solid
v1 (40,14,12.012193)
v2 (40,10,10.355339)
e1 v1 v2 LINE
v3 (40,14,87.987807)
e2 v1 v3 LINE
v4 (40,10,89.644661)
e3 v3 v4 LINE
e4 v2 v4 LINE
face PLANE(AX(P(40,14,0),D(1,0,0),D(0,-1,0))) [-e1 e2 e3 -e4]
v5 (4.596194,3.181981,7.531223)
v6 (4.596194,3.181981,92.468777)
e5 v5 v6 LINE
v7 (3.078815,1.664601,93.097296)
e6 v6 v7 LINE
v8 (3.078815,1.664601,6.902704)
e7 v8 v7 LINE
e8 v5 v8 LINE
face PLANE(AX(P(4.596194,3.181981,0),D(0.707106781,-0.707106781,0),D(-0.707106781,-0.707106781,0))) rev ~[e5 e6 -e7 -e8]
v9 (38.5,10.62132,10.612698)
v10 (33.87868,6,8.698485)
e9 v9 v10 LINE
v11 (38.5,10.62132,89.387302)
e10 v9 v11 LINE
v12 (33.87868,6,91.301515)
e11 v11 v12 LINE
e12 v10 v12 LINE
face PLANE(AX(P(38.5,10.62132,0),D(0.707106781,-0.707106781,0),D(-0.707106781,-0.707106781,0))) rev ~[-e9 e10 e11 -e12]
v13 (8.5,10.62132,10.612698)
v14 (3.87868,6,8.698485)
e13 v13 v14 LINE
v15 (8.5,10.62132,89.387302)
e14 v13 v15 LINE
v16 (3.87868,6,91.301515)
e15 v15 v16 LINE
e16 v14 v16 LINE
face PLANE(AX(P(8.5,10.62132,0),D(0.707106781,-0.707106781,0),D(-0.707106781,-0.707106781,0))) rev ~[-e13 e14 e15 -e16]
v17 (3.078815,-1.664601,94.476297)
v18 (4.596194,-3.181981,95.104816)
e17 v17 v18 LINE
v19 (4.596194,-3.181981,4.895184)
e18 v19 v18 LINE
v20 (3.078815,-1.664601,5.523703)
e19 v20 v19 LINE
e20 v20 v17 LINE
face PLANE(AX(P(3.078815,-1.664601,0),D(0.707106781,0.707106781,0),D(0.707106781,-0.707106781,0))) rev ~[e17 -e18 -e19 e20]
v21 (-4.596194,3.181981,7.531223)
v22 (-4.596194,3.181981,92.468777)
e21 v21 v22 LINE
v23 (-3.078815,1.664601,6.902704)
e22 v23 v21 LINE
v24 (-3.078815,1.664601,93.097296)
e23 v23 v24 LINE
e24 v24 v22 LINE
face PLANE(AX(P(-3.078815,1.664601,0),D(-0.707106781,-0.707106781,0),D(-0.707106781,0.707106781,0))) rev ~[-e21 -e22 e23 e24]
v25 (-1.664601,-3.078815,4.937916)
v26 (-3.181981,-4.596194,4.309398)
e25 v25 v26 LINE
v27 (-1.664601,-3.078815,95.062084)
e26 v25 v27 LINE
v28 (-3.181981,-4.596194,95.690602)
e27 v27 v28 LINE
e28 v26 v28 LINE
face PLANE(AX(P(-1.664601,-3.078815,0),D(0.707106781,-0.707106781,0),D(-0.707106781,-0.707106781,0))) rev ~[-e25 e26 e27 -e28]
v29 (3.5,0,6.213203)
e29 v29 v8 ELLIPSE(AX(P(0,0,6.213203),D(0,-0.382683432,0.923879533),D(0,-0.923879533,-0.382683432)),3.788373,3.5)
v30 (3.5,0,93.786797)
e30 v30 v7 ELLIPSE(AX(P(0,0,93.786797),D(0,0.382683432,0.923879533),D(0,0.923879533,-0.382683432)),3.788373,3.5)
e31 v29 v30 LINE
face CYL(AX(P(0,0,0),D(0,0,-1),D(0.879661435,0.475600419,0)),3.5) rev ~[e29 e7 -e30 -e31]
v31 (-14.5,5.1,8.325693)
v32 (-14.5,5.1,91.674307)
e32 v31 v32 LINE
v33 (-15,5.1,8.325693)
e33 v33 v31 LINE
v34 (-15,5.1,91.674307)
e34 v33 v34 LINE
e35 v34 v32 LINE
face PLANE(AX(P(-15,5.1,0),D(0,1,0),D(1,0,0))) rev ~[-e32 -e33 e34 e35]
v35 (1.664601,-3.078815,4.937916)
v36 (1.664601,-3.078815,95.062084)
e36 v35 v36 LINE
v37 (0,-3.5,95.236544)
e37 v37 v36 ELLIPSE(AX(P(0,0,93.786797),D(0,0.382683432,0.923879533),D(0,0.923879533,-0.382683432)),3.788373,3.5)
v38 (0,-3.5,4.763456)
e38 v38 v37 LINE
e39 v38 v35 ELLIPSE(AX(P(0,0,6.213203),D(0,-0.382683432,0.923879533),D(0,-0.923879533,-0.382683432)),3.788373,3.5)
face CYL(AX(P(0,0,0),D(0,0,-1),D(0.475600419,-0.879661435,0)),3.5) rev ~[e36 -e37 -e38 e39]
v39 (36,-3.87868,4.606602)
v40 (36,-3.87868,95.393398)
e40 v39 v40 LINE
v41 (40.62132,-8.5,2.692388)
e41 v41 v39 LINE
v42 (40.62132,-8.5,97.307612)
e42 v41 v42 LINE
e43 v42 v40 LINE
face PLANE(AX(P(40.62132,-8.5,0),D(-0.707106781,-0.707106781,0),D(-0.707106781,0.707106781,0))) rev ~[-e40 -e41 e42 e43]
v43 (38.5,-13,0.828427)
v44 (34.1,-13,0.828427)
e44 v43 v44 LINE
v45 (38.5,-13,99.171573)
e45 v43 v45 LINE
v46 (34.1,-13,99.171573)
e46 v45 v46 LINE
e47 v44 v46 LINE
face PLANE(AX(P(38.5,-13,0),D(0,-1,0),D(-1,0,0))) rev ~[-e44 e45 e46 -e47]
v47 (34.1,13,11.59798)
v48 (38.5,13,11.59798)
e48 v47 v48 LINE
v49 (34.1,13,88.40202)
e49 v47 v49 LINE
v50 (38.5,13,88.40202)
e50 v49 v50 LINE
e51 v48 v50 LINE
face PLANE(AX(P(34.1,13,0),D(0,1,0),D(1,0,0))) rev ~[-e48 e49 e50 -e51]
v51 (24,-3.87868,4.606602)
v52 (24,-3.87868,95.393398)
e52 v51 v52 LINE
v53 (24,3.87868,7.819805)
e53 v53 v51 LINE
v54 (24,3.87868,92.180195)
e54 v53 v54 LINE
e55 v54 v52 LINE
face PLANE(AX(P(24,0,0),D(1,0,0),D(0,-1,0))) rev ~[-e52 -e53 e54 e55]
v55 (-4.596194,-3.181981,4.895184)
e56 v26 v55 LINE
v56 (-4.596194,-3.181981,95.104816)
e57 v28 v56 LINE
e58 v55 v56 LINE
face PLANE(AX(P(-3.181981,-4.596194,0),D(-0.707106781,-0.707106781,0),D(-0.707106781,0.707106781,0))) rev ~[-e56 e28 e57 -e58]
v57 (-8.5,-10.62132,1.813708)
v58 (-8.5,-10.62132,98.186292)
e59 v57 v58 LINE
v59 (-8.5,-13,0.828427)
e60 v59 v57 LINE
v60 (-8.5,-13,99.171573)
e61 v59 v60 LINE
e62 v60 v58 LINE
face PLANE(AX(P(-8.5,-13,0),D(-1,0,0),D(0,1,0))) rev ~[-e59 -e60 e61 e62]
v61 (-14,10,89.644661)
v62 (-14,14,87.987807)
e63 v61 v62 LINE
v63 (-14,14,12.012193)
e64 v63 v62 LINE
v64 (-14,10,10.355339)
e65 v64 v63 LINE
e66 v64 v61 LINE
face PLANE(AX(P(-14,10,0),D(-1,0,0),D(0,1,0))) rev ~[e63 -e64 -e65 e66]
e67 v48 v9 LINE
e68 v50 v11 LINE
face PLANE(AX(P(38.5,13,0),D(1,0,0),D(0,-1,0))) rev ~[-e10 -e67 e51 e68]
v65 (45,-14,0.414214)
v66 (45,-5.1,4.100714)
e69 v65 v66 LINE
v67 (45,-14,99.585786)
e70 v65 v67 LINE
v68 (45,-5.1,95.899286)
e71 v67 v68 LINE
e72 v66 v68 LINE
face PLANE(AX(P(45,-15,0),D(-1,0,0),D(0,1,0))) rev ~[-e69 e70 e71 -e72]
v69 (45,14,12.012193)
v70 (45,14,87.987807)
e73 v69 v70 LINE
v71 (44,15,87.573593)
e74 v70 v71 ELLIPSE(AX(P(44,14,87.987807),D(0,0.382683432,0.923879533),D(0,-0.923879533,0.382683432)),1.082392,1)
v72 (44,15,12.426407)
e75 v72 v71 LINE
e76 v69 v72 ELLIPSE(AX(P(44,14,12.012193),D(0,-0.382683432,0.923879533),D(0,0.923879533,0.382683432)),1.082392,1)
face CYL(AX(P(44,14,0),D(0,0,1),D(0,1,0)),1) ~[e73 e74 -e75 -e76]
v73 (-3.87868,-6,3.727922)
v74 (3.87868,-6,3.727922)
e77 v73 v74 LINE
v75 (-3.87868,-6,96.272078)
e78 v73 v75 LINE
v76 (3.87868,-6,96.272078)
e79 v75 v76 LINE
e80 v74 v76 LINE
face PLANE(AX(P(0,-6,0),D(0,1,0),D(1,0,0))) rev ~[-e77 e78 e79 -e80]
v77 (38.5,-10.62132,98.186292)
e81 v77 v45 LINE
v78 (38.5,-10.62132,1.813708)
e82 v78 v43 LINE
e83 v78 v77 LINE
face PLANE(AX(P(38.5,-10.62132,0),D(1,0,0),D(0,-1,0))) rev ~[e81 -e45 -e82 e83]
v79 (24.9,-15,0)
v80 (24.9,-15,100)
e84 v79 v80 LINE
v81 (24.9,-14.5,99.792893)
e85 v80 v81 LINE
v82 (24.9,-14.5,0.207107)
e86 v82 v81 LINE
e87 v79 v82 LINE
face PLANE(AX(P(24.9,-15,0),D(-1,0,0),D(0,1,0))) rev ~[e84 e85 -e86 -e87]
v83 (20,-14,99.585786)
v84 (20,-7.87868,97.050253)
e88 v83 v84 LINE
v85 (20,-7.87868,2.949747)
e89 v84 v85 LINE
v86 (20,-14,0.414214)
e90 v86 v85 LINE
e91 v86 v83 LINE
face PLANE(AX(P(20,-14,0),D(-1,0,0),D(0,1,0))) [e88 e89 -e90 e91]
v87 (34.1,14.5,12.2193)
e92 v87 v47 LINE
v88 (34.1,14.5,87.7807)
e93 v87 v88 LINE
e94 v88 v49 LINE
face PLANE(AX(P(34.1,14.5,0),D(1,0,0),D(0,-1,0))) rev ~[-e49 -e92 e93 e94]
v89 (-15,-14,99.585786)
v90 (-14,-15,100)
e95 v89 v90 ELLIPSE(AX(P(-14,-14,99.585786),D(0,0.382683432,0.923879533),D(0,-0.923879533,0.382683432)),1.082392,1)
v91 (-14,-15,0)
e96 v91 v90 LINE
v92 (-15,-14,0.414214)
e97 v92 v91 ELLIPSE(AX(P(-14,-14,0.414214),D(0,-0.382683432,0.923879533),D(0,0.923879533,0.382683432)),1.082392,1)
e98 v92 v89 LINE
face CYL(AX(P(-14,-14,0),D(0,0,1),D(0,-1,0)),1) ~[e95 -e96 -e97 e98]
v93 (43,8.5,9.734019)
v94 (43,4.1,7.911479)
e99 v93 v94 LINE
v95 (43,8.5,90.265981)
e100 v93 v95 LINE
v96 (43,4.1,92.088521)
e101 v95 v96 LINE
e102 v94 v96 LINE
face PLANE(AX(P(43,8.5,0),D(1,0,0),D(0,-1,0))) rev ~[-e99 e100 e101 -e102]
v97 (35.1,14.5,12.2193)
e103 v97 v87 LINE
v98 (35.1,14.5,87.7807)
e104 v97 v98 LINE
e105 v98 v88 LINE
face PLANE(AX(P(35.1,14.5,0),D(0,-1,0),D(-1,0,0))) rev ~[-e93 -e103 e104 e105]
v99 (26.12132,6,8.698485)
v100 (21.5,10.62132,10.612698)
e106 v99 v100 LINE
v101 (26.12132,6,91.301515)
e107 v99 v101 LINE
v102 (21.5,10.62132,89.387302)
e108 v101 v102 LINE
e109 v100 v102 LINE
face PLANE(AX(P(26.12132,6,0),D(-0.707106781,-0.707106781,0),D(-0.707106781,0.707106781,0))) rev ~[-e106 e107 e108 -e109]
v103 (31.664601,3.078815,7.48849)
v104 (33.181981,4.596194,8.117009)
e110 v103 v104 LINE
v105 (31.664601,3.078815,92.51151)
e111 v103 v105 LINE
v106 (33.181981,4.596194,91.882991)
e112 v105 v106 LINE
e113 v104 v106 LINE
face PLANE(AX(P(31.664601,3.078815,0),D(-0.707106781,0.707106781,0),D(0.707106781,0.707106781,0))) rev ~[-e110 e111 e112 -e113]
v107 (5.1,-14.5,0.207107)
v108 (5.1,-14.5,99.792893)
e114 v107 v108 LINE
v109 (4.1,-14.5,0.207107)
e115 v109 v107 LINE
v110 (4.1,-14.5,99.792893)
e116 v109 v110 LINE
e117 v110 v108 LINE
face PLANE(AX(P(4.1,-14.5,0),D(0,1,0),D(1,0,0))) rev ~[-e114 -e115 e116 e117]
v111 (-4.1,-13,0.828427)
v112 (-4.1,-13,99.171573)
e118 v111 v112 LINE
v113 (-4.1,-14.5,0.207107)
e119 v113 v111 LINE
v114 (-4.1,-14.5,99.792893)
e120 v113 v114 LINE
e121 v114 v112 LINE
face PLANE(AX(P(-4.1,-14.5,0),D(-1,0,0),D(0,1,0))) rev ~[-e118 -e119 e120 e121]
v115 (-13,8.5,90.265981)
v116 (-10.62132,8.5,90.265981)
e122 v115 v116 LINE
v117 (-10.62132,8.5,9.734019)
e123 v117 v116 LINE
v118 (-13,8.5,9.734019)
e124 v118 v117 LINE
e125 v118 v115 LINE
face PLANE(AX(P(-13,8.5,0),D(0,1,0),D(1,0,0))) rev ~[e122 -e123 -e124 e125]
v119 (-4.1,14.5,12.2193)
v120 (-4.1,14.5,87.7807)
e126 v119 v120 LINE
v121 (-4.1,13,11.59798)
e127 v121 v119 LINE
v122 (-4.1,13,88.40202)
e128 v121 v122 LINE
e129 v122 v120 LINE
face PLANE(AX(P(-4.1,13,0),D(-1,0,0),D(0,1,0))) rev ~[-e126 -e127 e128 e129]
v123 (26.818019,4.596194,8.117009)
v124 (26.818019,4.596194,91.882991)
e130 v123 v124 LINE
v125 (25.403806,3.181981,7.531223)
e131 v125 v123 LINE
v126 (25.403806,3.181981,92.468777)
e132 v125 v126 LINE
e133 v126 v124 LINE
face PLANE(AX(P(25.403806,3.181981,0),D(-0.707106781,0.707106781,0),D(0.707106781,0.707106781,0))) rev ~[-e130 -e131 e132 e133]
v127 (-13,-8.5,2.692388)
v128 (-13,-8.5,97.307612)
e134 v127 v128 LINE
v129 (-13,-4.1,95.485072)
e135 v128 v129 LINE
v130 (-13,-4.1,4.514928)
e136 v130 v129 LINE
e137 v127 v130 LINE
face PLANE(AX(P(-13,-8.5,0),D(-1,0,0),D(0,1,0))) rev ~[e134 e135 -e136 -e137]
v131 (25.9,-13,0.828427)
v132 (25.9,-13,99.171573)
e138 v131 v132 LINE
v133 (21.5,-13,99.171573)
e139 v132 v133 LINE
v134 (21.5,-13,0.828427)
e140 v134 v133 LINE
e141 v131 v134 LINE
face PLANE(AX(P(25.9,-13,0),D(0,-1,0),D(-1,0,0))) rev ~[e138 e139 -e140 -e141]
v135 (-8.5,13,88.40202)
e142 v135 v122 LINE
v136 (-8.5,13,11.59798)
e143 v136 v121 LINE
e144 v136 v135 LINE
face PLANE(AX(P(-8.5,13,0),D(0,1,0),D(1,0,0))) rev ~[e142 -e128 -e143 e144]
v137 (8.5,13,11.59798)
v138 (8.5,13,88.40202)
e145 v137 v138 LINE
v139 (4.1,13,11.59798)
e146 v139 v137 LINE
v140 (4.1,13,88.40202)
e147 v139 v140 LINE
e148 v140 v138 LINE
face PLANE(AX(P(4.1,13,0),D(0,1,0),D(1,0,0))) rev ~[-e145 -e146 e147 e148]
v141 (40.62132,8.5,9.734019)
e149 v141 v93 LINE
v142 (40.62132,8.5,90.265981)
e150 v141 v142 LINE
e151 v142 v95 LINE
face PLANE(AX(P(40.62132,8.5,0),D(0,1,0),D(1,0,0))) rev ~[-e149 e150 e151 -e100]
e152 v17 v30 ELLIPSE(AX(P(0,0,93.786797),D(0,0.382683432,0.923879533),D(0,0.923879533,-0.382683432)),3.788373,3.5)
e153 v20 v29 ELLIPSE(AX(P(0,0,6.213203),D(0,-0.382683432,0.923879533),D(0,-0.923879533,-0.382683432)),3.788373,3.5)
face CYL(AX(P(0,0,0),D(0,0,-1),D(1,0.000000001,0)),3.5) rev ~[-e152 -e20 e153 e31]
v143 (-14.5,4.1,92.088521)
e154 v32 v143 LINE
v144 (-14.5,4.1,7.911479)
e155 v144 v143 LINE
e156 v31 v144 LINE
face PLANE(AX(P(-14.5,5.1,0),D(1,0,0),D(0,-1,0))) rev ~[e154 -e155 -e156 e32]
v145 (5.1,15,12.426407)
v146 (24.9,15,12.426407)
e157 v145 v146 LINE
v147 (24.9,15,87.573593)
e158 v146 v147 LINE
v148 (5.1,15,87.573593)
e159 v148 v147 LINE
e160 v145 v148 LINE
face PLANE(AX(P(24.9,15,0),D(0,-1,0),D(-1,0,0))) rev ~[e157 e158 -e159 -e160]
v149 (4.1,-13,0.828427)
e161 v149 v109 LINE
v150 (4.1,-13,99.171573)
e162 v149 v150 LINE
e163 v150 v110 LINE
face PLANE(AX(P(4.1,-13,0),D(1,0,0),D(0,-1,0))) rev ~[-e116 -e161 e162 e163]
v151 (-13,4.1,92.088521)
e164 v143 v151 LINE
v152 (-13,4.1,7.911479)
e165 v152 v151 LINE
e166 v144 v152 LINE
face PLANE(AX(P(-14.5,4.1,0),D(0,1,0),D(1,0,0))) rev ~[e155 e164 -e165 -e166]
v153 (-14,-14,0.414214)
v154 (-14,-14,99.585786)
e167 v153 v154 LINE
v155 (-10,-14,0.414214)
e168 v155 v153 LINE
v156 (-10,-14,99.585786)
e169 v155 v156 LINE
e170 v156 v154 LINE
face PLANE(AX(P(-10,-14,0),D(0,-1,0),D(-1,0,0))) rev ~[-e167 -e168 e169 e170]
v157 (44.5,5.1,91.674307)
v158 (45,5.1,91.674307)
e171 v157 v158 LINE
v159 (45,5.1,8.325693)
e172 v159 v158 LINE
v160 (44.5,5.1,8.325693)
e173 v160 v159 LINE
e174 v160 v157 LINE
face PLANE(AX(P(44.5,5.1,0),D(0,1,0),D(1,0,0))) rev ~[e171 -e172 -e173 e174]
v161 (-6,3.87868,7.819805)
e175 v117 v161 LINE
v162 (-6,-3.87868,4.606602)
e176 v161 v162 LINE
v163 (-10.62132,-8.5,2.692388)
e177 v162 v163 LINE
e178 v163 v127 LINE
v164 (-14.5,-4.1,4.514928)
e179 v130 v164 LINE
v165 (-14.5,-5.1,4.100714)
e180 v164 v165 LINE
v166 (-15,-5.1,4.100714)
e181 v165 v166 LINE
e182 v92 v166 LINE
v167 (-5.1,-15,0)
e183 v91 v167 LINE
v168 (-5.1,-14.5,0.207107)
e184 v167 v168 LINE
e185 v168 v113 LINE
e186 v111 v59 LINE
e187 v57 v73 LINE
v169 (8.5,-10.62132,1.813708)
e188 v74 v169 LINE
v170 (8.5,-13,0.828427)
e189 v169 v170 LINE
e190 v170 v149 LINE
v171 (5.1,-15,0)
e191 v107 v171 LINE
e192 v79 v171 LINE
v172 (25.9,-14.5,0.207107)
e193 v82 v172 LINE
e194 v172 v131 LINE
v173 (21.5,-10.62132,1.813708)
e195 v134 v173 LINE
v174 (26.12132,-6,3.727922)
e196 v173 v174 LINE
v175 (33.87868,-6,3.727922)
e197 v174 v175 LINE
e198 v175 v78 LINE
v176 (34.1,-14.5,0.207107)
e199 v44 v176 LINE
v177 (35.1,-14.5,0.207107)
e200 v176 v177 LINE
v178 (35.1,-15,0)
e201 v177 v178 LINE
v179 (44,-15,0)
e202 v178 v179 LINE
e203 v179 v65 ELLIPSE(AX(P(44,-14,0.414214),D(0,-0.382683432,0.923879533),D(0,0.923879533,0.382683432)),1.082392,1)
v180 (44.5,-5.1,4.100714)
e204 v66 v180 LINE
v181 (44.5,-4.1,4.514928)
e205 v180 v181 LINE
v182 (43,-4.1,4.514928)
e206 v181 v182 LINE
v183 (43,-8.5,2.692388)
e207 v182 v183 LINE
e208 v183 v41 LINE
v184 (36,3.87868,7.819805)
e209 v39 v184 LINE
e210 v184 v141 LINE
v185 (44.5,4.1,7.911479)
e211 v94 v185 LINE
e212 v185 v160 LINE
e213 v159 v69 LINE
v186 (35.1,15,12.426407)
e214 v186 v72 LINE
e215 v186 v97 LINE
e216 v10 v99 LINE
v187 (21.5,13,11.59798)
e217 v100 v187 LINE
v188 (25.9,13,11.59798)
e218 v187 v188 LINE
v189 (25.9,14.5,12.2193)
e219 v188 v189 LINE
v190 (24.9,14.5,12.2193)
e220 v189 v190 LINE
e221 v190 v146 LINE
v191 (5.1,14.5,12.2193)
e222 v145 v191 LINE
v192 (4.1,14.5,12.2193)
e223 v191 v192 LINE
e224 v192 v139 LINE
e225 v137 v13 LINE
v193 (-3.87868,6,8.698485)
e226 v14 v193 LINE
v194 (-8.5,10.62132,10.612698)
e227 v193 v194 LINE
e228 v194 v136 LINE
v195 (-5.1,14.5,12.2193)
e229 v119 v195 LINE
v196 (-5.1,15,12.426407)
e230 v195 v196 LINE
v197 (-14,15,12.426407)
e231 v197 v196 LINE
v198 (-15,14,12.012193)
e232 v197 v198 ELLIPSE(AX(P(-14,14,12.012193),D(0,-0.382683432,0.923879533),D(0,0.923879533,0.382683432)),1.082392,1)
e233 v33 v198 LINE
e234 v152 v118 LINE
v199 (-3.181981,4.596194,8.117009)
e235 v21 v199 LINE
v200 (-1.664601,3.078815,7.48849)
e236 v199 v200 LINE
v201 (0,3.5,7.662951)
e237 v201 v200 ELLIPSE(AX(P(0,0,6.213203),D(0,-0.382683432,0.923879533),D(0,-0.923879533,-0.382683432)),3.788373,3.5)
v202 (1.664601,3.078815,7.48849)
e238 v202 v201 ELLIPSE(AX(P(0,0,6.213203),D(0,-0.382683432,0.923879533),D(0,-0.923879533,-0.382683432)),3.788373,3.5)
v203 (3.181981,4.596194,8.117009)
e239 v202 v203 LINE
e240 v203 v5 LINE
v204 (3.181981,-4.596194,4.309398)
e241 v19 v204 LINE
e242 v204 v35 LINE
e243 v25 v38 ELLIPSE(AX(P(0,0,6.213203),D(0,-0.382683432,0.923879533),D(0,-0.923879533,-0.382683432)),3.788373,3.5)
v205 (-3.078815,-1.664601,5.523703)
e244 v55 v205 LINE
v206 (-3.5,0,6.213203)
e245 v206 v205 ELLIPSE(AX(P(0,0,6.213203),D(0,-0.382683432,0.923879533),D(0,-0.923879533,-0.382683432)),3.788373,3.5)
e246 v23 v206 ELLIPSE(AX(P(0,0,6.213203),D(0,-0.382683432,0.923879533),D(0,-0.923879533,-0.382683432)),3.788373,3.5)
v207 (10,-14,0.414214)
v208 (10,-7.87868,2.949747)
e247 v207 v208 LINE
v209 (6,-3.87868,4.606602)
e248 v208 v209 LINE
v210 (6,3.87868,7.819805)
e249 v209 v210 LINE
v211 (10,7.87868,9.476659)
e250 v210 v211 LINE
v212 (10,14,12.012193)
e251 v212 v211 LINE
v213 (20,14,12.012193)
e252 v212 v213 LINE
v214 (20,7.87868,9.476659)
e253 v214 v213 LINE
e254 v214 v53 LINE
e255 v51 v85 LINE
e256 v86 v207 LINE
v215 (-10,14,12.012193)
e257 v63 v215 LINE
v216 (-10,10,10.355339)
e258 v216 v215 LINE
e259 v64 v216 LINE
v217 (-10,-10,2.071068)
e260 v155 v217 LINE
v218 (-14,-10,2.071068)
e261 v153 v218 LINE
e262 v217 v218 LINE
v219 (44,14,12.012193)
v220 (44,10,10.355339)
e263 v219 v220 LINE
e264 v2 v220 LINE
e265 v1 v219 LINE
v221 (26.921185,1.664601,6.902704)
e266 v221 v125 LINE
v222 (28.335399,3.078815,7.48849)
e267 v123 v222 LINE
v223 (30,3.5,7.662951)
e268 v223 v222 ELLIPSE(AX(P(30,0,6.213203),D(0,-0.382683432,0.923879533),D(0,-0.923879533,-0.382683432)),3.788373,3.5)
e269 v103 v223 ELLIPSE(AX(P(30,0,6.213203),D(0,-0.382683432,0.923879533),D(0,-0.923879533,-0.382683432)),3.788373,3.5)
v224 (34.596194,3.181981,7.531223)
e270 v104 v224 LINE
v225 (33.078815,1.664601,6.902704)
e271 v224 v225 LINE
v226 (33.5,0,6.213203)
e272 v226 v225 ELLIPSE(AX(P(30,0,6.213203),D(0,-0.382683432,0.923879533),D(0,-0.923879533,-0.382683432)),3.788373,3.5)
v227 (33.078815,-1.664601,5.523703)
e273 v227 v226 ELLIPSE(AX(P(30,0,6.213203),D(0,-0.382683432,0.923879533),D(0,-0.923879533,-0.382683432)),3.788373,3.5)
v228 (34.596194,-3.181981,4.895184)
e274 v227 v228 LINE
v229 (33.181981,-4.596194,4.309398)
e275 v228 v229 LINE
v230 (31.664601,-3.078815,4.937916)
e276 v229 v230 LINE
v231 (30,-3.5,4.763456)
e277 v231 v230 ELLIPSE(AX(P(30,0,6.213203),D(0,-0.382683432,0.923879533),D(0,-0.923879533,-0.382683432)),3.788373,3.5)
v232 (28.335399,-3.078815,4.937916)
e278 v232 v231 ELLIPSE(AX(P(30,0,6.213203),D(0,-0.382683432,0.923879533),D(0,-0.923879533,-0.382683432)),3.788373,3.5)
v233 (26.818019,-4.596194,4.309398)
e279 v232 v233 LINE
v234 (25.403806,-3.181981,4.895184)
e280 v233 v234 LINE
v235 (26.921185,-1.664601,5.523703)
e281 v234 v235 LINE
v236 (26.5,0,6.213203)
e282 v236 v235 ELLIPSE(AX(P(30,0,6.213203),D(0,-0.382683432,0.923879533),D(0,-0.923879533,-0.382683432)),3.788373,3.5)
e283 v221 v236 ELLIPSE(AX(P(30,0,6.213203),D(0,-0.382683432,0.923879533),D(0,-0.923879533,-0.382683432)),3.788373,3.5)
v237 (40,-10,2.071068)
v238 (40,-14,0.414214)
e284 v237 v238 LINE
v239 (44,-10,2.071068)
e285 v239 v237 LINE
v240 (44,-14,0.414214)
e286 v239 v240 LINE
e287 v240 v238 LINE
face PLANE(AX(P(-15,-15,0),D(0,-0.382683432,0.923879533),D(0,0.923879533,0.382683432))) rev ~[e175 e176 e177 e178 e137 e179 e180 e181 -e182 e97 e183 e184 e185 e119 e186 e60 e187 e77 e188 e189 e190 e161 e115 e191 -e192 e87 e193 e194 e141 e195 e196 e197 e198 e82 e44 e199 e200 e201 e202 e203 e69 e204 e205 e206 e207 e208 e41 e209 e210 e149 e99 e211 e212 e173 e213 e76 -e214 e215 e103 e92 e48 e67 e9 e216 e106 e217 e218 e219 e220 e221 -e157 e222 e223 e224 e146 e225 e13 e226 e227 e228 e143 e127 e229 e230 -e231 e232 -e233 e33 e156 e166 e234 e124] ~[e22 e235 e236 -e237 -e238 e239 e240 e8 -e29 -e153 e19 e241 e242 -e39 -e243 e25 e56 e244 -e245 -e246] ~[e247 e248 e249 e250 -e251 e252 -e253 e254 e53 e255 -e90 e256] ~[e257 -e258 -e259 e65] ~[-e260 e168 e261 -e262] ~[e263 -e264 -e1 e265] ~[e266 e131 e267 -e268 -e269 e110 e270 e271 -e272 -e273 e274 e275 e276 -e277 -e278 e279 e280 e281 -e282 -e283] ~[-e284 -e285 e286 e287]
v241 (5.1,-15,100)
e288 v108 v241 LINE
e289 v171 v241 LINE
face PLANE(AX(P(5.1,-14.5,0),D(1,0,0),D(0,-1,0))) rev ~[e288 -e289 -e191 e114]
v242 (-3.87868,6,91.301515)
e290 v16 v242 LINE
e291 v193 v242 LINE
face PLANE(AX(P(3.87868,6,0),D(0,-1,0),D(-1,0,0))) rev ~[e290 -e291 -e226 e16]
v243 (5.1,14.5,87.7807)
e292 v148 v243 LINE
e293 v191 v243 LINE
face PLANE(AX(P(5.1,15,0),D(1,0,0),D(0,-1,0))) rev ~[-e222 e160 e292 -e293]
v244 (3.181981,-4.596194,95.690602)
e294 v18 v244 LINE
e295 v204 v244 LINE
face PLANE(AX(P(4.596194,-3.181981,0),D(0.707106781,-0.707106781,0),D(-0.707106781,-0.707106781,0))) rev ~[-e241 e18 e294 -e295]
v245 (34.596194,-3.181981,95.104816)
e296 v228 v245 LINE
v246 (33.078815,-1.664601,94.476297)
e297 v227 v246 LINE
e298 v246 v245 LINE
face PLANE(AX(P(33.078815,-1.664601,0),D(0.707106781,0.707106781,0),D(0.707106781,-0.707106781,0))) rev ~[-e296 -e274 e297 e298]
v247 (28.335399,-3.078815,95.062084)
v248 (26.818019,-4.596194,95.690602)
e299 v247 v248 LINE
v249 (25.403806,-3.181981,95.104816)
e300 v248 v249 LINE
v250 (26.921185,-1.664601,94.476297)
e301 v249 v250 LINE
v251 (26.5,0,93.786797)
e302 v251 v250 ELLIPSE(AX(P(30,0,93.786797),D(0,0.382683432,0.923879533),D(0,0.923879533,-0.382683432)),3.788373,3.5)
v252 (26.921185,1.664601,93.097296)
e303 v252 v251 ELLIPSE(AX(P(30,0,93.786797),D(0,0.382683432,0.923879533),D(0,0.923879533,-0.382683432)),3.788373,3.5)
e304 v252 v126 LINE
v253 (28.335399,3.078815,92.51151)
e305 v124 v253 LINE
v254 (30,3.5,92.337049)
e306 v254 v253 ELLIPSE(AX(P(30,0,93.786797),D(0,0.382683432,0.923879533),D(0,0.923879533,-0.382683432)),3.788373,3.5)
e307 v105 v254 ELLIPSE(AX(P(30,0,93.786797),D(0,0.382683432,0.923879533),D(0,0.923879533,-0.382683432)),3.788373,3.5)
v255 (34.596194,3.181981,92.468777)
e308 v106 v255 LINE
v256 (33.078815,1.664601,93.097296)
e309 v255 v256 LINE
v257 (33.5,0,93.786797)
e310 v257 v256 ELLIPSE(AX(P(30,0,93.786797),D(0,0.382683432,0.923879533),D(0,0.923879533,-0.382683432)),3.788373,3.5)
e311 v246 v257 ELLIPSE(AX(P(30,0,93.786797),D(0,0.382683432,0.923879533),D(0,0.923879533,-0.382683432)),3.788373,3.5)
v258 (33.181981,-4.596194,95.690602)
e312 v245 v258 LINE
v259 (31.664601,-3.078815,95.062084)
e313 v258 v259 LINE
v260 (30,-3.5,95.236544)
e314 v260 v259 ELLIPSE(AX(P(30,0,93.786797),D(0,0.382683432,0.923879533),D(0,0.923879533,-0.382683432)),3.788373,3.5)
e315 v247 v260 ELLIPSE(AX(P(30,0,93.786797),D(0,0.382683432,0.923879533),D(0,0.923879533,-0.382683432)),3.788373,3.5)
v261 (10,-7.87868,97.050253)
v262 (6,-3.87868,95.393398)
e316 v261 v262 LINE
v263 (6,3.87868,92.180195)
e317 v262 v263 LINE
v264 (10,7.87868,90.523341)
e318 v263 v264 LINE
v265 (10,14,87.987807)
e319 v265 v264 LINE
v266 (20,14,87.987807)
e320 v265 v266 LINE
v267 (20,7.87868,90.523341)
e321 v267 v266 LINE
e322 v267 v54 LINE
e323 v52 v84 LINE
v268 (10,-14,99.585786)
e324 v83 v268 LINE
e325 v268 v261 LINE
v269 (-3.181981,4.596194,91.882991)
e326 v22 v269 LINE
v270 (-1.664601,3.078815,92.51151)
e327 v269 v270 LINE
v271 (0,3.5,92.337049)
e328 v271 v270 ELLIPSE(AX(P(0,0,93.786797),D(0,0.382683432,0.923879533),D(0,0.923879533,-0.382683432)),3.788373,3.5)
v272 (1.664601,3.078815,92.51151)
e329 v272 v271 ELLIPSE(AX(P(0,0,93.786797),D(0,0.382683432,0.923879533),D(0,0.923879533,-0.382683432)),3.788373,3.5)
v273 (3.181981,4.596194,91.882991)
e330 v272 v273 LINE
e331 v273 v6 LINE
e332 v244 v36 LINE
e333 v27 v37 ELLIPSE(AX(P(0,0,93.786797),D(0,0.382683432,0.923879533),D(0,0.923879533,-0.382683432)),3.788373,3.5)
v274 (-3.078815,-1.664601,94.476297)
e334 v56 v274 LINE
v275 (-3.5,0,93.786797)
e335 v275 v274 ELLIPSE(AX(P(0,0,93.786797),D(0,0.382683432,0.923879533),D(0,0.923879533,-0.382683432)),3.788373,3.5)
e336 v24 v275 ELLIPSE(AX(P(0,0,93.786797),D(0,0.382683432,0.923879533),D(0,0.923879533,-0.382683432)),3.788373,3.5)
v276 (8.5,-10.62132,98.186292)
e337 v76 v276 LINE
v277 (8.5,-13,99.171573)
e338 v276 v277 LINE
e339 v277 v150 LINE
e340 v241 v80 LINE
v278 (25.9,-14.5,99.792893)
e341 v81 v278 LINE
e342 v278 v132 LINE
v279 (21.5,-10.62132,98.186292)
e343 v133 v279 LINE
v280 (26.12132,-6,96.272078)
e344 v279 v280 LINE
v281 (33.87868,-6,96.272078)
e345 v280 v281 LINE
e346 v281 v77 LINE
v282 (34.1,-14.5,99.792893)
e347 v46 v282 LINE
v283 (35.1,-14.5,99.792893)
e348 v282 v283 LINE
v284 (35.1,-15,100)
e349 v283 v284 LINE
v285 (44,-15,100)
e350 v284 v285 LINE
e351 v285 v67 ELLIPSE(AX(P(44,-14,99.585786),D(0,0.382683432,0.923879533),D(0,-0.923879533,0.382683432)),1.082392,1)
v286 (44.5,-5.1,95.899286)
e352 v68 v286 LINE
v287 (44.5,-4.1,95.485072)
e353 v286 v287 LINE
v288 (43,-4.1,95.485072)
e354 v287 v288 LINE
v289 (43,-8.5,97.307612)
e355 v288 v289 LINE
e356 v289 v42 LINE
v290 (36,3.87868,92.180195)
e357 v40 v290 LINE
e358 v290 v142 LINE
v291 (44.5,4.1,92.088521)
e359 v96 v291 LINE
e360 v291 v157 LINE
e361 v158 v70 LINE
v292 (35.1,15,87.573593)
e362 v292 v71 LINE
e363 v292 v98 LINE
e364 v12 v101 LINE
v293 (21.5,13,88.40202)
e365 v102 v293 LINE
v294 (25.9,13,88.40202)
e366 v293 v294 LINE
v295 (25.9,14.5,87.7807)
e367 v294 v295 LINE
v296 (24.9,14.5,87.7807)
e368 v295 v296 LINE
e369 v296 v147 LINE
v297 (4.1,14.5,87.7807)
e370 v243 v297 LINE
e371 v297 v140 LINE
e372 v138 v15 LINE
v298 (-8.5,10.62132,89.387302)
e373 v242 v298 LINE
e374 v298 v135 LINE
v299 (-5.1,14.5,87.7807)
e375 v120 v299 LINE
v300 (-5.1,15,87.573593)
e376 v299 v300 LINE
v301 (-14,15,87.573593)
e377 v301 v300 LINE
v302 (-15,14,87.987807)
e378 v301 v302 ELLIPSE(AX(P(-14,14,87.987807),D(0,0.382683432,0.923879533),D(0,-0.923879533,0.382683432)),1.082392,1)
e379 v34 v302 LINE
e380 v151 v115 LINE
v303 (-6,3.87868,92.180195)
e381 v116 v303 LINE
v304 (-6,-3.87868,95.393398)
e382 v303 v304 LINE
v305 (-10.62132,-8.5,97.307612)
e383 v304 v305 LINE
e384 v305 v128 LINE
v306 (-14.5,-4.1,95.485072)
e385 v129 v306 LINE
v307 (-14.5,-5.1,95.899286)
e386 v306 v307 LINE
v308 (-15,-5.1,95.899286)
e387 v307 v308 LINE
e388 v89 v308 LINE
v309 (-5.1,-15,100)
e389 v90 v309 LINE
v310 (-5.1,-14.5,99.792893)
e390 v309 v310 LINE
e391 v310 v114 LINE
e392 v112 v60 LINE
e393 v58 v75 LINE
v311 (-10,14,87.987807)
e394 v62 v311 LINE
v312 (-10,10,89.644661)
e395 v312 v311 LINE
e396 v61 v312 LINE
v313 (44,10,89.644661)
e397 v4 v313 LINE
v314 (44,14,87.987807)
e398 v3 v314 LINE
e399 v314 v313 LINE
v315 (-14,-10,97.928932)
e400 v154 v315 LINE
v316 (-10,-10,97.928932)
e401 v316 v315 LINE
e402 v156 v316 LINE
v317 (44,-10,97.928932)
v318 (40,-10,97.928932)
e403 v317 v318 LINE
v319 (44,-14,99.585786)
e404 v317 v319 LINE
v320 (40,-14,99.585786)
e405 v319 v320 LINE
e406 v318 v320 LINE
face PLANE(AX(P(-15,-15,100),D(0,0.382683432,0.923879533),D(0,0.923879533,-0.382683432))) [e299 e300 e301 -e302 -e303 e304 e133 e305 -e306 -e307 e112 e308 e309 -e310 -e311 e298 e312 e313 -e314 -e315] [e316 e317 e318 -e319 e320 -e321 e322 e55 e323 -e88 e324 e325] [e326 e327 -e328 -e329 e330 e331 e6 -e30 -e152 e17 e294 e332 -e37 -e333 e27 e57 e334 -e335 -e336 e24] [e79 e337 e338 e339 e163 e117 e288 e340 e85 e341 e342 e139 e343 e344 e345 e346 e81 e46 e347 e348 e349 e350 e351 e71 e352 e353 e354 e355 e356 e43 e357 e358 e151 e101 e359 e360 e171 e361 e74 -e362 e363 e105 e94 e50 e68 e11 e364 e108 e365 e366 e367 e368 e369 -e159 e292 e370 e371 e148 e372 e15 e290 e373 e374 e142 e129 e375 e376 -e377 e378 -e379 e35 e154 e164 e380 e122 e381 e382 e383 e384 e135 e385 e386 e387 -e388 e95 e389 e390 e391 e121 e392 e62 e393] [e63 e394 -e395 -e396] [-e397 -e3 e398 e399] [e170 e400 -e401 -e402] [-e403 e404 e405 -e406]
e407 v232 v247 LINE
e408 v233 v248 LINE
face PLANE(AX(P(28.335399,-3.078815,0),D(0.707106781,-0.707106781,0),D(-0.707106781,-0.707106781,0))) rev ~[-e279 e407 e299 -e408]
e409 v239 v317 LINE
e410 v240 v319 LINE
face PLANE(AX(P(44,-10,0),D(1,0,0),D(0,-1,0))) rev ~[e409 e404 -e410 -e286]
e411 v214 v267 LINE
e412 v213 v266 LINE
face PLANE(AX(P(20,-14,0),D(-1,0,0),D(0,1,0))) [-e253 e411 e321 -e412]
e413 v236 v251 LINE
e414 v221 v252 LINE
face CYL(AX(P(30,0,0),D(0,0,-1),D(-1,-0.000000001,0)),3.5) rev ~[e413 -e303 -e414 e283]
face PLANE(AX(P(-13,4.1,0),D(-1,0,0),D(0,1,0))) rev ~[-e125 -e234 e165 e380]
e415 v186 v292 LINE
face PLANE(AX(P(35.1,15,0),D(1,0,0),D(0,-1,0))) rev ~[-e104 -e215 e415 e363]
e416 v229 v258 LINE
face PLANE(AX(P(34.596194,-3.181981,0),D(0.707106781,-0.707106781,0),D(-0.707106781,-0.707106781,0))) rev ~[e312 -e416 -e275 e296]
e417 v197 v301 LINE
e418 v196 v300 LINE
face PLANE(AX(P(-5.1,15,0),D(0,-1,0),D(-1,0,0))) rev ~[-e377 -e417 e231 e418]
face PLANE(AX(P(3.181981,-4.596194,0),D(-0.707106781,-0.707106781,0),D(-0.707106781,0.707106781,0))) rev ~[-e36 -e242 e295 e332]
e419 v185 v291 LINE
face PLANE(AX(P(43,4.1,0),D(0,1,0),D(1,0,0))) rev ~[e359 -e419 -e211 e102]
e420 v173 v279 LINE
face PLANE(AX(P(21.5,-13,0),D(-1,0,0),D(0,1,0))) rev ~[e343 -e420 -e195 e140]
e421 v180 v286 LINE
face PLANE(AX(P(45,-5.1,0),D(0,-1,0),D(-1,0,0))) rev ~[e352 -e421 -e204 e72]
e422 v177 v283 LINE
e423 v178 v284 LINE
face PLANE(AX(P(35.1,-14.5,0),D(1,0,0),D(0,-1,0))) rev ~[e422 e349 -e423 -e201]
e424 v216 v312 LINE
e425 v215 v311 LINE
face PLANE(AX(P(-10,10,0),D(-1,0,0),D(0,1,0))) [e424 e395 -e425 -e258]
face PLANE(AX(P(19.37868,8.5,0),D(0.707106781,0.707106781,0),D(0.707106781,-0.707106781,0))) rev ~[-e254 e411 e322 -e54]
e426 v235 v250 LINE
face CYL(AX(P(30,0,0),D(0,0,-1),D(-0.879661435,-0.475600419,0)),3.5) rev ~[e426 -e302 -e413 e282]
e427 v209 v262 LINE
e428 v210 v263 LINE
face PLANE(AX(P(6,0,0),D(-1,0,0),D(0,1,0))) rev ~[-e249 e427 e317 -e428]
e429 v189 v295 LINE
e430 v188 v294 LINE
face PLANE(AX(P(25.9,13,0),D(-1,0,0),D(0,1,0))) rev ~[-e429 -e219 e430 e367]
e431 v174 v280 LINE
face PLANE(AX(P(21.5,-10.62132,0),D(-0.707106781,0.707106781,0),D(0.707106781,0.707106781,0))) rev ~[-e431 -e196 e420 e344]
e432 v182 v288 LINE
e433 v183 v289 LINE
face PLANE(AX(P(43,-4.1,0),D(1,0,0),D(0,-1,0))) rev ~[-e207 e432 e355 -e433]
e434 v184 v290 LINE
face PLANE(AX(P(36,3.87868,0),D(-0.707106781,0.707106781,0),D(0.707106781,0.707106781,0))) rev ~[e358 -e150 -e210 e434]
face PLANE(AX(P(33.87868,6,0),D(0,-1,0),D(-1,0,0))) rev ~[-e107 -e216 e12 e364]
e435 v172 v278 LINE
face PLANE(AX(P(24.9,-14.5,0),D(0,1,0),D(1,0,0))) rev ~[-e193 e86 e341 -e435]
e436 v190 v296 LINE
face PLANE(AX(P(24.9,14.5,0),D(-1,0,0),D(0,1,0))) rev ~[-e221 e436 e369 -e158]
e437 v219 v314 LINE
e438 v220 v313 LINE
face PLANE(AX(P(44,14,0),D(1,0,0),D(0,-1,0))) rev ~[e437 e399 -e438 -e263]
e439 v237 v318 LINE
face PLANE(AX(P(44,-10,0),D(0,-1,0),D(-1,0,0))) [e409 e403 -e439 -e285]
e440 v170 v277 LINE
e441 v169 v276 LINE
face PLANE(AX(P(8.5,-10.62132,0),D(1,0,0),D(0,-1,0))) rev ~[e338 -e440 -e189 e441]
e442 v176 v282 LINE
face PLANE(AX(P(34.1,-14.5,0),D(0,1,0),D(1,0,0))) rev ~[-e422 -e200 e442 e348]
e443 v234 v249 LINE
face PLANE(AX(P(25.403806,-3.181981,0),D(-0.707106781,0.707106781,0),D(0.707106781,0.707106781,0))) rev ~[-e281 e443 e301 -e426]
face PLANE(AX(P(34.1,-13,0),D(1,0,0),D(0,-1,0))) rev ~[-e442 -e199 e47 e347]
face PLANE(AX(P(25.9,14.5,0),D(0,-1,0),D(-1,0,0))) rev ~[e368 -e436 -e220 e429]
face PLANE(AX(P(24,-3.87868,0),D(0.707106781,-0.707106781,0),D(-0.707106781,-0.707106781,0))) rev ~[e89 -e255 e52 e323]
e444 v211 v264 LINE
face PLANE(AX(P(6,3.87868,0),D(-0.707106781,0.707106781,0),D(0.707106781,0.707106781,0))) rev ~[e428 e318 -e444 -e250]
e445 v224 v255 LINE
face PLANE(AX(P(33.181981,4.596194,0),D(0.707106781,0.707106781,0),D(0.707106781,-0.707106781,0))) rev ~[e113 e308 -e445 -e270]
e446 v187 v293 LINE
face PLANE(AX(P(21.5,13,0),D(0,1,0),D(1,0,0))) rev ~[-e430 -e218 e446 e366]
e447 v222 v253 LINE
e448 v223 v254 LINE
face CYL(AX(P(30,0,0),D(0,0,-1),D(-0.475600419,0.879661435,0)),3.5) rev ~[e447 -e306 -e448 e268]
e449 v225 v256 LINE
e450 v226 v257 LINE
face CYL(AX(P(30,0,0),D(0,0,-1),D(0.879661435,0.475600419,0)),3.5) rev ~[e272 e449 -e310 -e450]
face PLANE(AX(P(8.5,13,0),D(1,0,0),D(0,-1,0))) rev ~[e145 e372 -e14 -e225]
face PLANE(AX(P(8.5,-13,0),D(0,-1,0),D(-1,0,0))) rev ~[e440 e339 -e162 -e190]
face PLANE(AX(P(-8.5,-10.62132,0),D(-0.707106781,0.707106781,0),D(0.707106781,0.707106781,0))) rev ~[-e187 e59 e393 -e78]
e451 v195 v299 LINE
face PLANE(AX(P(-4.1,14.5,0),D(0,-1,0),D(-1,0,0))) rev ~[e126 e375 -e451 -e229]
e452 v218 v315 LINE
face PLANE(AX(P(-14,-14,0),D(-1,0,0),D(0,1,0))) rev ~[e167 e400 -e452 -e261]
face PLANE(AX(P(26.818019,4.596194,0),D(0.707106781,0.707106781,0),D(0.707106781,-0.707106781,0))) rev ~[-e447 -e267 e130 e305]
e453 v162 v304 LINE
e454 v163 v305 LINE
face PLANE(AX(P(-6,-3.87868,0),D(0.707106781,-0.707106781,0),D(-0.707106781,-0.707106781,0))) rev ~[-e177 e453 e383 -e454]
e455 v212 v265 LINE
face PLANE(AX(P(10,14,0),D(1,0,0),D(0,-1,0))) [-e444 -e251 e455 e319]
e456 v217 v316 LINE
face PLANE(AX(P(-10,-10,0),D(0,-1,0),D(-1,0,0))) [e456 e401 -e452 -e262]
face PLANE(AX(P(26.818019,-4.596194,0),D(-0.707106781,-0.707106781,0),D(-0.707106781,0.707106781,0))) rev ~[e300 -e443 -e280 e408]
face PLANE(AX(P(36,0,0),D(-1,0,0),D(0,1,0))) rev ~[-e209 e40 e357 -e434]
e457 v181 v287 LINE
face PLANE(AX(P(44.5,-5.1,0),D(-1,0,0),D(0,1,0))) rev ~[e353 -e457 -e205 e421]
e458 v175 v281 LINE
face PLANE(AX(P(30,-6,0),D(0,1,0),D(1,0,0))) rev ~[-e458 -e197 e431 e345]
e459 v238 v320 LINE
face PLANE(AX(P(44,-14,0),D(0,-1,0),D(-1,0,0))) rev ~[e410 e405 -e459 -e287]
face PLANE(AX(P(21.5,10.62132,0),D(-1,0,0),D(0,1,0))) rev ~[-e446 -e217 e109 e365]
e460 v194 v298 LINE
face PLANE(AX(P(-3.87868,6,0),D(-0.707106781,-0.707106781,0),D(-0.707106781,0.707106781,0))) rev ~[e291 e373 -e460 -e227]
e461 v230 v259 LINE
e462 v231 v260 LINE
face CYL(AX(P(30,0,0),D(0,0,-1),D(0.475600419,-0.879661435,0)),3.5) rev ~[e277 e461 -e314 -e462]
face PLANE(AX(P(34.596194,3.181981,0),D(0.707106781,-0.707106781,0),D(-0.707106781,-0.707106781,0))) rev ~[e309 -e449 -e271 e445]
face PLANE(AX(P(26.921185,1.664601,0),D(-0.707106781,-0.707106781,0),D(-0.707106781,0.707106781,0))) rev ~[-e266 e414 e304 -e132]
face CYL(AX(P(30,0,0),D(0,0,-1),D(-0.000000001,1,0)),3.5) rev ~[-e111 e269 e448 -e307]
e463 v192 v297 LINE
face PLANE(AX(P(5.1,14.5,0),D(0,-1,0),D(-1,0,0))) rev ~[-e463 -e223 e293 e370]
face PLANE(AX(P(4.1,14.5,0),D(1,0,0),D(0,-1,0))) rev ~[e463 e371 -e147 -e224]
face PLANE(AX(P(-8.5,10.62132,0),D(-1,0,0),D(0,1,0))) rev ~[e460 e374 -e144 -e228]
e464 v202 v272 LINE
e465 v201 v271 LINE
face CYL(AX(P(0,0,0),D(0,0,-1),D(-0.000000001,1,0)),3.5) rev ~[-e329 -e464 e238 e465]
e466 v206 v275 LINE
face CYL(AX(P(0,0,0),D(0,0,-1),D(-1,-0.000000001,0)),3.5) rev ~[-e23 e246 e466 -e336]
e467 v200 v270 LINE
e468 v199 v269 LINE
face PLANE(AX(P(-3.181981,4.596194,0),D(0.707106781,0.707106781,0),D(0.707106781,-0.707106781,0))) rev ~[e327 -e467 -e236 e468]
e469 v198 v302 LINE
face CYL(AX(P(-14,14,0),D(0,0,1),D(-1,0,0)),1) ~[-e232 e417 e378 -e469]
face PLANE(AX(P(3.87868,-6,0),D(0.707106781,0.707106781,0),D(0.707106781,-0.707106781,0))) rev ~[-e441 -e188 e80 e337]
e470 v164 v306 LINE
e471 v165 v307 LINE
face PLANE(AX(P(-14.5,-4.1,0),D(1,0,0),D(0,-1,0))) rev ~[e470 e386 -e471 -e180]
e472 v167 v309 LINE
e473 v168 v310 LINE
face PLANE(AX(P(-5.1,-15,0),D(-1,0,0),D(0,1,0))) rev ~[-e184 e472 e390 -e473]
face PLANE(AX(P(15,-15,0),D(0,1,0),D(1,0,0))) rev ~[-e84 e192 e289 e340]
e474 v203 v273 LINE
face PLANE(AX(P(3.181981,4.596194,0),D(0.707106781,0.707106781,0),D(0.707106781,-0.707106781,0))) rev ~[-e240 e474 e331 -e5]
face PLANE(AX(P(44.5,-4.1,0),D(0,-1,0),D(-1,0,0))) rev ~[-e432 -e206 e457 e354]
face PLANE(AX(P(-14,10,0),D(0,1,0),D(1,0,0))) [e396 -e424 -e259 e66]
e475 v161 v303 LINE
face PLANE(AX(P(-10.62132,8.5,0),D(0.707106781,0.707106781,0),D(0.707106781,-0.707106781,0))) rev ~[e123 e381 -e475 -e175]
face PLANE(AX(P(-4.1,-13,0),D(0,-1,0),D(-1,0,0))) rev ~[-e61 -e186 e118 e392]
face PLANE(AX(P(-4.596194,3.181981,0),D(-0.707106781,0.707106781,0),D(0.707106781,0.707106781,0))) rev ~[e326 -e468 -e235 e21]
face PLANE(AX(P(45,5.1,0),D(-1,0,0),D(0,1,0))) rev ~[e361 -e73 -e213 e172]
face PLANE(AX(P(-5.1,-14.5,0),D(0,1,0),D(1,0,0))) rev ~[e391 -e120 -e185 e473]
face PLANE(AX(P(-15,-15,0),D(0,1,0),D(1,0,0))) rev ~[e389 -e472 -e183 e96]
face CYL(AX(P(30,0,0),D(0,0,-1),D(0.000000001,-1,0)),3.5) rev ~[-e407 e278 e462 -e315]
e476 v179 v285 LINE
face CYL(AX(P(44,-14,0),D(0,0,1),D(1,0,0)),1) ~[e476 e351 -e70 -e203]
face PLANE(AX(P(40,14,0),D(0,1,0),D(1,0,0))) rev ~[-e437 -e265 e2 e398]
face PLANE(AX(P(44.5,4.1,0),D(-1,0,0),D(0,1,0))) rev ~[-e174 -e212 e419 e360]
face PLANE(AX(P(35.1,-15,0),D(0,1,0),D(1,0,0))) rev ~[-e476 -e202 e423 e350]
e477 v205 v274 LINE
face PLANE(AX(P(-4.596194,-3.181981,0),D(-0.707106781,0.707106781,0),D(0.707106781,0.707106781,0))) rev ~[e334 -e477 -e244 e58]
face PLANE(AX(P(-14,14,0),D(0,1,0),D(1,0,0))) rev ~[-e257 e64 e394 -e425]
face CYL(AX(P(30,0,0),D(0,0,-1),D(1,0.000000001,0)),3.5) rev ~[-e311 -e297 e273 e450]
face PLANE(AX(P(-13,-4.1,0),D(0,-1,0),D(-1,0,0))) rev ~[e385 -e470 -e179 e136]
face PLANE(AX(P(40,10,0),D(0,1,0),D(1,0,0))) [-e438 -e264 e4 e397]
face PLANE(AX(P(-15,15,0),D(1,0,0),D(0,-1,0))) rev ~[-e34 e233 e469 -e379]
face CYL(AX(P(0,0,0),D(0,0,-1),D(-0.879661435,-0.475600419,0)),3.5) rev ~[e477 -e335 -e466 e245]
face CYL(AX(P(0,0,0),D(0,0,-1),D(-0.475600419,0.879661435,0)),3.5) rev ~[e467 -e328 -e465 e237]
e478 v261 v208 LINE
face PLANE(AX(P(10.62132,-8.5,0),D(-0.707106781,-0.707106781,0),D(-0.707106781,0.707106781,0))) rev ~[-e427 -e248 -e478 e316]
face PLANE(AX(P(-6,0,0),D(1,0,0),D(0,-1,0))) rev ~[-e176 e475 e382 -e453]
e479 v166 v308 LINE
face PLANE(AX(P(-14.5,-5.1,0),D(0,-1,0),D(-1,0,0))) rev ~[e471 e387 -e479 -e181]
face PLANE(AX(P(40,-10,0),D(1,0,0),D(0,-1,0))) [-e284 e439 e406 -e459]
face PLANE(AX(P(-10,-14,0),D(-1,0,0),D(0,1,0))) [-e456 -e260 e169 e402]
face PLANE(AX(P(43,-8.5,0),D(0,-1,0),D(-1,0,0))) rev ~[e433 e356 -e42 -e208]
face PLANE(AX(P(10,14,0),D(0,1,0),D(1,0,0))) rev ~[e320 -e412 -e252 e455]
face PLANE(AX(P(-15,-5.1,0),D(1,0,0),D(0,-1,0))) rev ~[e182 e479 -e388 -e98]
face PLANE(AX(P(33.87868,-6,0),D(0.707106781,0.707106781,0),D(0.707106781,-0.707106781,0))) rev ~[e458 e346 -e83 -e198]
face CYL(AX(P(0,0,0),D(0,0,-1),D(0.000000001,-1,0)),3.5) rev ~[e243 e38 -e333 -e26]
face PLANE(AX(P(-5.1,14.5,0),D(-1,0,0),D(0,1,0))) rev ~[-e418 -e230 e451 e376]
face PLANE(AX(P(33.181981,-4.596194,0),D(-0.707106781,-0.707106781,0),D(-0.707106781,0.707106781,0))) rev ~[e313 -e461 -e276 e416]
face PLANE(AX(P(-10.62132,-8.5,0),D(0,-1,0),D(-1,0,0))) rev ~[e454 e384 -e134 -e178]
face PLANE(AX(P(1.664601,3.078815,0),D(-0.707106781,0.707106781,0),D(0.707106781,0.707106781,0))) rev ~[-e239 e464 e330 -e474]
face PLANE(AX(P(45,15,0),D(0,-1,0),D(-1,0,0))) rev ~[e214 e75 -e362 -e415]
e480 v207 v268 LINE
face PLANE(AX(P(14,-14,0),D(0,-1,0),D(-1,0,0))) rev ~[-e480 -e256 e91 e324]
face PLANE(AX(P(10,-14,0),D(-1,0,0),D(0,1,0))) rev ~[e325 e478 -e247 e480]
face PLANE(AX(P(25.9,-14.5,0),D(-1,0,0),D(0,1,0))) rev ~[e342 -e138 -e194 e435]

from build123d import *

# Parameters (mm, degrees)
ESBO_O1_W                      = 4
ESBO_O1_H                      = 4
RESSALTO_EXTRUS_O1_DEPTH       = 100
PADR_OCIRCULAR1_COUNT          = 4
PADR_O_LINEAR1_COUNT           = 2
PADR_O_LINEAR1_PITCH           = 30
PADR_O_LINEAR1_COPY_1_SKETCH_W = 4
PADR_O_LINEAR1_COPY_1_SKETCH_H = 4
PADR_O_LINEAR1_COPY_1_DEPTH    = 100
PADR_O_LINEAR1_COPY_2_SKETCH_W = 4
PADR_O_LINEAR1_COPY_2_SKETCH_H = 4
PADR_O_LINEAR1_COPY_2_DEPTH    = 100
PADR_O_LINEAR1_COPY_3_SKETCH_W = 4
PADR_O_LINEAR1_COPY_3_SKETCH_H = 4
PADR_O_LINEAR1_COPY_3_DEPTH    = 100
ESBO_O4_W                      = 10
ESBO_O4_H                      = 28
CORTE_EXTRUS_O1_DEPTH          = 111.679718106
FILETE1_R                      = 1
CUT_EXTRUDE1_DEPTH             = 118.579760163


with BuildPart() as part:
    # Esboço1 → Ressalto-extrusão1 (new body)
    with BuildSketch(Plane.XY):
        with BuildLine():
            ThreePointArc((-1.664601464, 3.078815026), (-0.858529967, 3.393070335), (0, 3.5))
            Line((0, 3.5), (0, 6))
            Line((0, 6), (-3.878679656, 6))
            Line((-3.878679656, 6), (-8.5, 10.621320344))
            Line((-8.5, 10.621320344), (-8.5, 13))
            Line((-8.5, 13), (-4.1, 13))
            Line((-4.1, 13), (-4.1, 14.5))
            Line((-4.1, 14.5), (-5.1, 14.5))
            Line((-5.1, 14.5), (-5.1, 15))
            Line((-5.1, 15), (-15, 15))
            Line((-15, 15), (-15, 5.1))
            Line((-15, 5.1), (-14.5, 5.1))
            Line((-14.5, 5.1), (-14.5, 4.1))
            Line((-14.5, 4.1), (-13, 4.1))
            Line((-13, 4.1), (-13, 8.5))
            Line((-13, 8.5), (-10.621320344, 8.5))
            Line((-10.621320344, 8.5), (-6, 3.878679656))
            Line((-6, 3.878679656), (-6, 0))
            Line((-6, 0), (-3.5, 0))
            ThreePointArc((-3.5, 0), (-3.393070335, 0.858529967), (-3.078815026, 1.664601464))
            Line((-3.078815026, 1.664601464), (-4.596194078, 3.181980515))
            Line((-4.596194078, 3.181980515), (-3.181980515, 4.596194078))
            Line((-3.181980515, 4.596194078), (-1.664601464, 3.078815026))
        make_face()
        with Locations((-12, 12)):
            Rectangle(ESBO_O1_W, ESBO_O1_H, mode=Mode.SUBTRACT)
    ressalto_extrus_o1 = extrude(amount=RESSALTO_EXTRUS_O1_DEPTH)

    # PadrãoCircular1: Ressalto-extrusão1 ×4 about axis
    padr_ocircular1_axis = Axis((0, 0, 0), (0, 0, 1))
    for i in range(1, PADR_OCIRCULAR1_COUNT):
        add(ressalto_extrus_o1.rotate(padr_ocircular1_axis, i * 360 / PADR_OCIRCULAR1_COUNT))

    # Padrão linear1: Ressalto-extrusão1 ×2
    with Locations(*[(i * PADR_O_LINEAR1_PITCH, 0, 0) for i in range(1, PADR_O_LINEAR1_COUNT)]):
        add(ressalto_extrus_o1)

    # Padrão linear1 copy 1 sketch → Padrão linear1 copy 1 (add)
    with BuildSketch(Plane(origin=(30, 0, 0), x_dir=(0, 1, 0), z_dir=(0, 0, 1))):
        with BuildLine():
            ThreePointArc((-1.664601464, 3.078815026), (-0.858529967, 3.393070335), (0, 3.5))
            Line((0, 3.5), (0, 6))
            Line((0, 6), (-3.878679656, 6))
            Line((-3.878679656, 6), (-8.5, 10.621320344))
            Line((-8.5, 10.621320344), (-8.5, 13))
            Line((-8.5, 13), (-4.1, 13))
            Line((-4.1, 13), (-4.1, 14.5))
            Line((-4.1, 14.5), (-5.1, 14.5))
            Line((-5.1, 14.5), (-5.1, 15))
            Line((-5.1, 15), (-15, 15))
            Line((-15, 15), (-15, 5.1))
            Line((-15, 5.1), (-14.5, 5.1))
            Line((-14.5, 5.1), (-14.5, 4.1))
            Line((-14.5, 4.1), (-13, 4.1))
            Line((-13, 4.1), (-13, 8.5))
            Line((-13, 8.5), (-10.621320344, 8.5))
            Line((-10.621320344, 8.5), (-6, 3.878679656))
            Line((-6, 3.878679656), (-6, 0))
            Line((-6, 0), (-3.5, 0))
            ThreePointArc((-3.5, 0), (-3.393070335, 0.858529967), (-3.078815026, 1.664601464))
            Line((-3.078815026, 1.664601464), (-4.596194078, 3.181980515))
            Line((-4.596194078, 3.181980515), (-3.181980515, 4.596194078))
            Line((-3.181980515, 4.596194078), (-1.664601464, 3.078815026))
        make_face()
        with Locations((-12, 12)):
            Rectangle(PADR_O_LINEAR1_COPY_1_SKETCH_W, PADR_O_LINEAR1_COPY_1_SKETCH_H, mode=Mode.SUBTRACT)
    extrude(amount=PADR_O_LINEAR1_COPY_1_DEPTH)

    # Padrão linear1 copy 2 sketch → Padrão linear1 copy 2 (add)
    with BuildSketch(Plane(origin=(30, 0, 0), x_dir=(-1, 0, 0), z_dir=(0, 0, 1))):
        with BuildLine():
            ThreePointArc((-1.664601464, 3.078815026), (-0.858529967, 3.393070335), (0, 3.5))
            Line((0, 3.5), (0, 6))
            Line((0, 6), (-3.878679656, 6))
            Line((-3.878679656, 6), (-8.5, 10.621320344))
            Line((-8.5, 10.621320344), (-8.5, 13))
            Line((-8.5, 13), (-4.1, 13))
            Line((-4.1, 13), (-4.1, 14.5))
            Line((-4.1, 14.5), (-5.1, 14.5))
            Line((-5.1, 14.5), (-5.1, 15))
            Line((-5.1, 15), (-15, 15))
            Line((-15, 15), (-15, 5.1))
            Line((-15, 5.1), (-14.5, 5.1))
            Line((-14.5, 5.1), (-14.5, 4.1))
            Line((-14.5, 4.1), (-13, 4.1))
            Line((-13, 4.1), (-13, 8.5))
            Line((-13, 8.5), (-10.621320344, 8.5))
            Line((-10.621320344, 8.5), (-6, 3.878679656))
            Line((-6, 3.878679656), (-6, 0))
            Line((-6, 0), (-3.5, 0))
            ThreePointArc((-3.5, 0), (-3.393070335, 0.858529967), (-3.078815026, 1.664601464))
            Line((-3.078815026, 1.664601464), (-4.596194078, 3.181980515))
            Line((-4.596194078, 3.181980515), (-3.181980515, 4.596194078))
            Line((-3.181980515, 4.596194078), (-1.664601464, 3.078815026))
        make_face()
        with Locations((-12, 12)):
            Rectangle(PADR_O_LINEAR1_COPY_2_SKETCH_W, PADR_O_LINEAR1_COPY_2_SKETCH_H, mode=Mode.SUBTRACT)
    extrude(amount=PADR_O_LINEAR1_COPY_2_DEPTH)

    # Padrão linear1 copy 3 sketch → Padrão linear1 copy 3 (add)
    with BuildSketch(Plane(origin=(30, 0, 0), x_dir=(0, -1, 0), z_dir=(0, 0, 1))):
        with BuildLine():
            ThreePointArc((-1.664601464, 3.078815026), (-0.858529967, 3.393070335), (0, 3.5))
            Line((0, 3.5), (0, 6))
            Line((0, 6), (-3.878679656, 6))
            Line((-3.878679656, 6), (-8.5, 10.621320344))
            Line((-8.5, 10.621320344), (-8.5, 13))
            Line((-8.5, 13), (-4.1, 13))
            Line((-4.1, 13), (-4.1, 14.5))
            Line((-4.1, 14.5), (-5.1, 14.5))
            Line((-5.1, 14.5), (-5.1, 15))
            Line((-5.1, 15), (-15, 15))
            Line((-15, 15), (-15, 5.1))
            Line((-15, 5.1), (-14.5, 5.1))
            Line((-14.5, 5.1), (-14.5, 4.1))
            Line((-14.5, 4.1), (-13, 4.1))
            Line((-13, 4.1), (-13, 8.5))
            Line((-13, 8.5), (-10.621320344, 8.5))
            Line((-10.621320344, 8.5), (-6, 3.878679656))
            Line((-6, 3.878679656), (-6, 0))
            Line((-6, 0), (-3.5, 0))
            ThreePointArc((-3.5, 0), (-3.393070335, 0.858529967), (-3.078815026, 1.664601464))
            Line((-3.078815026, 1.664601464), (-4.596194078, 3.181980515))
            Line((-4.596194078, 3.181980515), (-3.181980515, 4.596194078))
            Line((-3.181980515, 4.596194078), (-1.664601464, 3.078815026))
        make_face()
        with Locations((-12, 12)):
            Rectangle(PADR_O_LINEAR1_COPY_3_SKETCH_W, PADR_O_LINEAR1_COPY_3_SKETCH_H, mode=Mode.SUBTRACT)
    extrude(amount=PADR_O_LINEAR1_COPY_3_DEPTH)

    # Esboço4 → Corte-extrusão1 (cut, through all)
    with BuildSketch(Plane(origin=(0, 0, 0), x_dir=(-1, 0, 0), z_dir=(0, 0, -1))):
        with Locations((-15, 0)):
            Rectangle(ESBO_O4_W, ESBO_O4_H)
    extrude(amount=-CORTE_EXTRUS_O1_DEPTH, mode=Mode.SUBTRACT)

    # Filete1
    filete1_edges = [part.edges().sort_by_distance(p)[0] for p in [
        (45, -15, 50),
        (45, 15, 50),
        (-15, 15, 50),
        (-15, -15, 50),
    ]]
    fillet(filete1_edges, radius=FILETE1_R)

    # Sketch1 → Cut-Extrude1 (cut, through all)
    with BuildSketch(Plane.ZY.offset(15)):
        Polygon((0, -15), (12.426406871, 15), (0, 15), align=None)
        Polygon((100, -15), (87.573593129, 15), (100, 15), align=None)
    extrude(amount=-CUT_EXTRUDE1_DEPTH, mode=Mode.SUBTRACT)


solid = part.part
